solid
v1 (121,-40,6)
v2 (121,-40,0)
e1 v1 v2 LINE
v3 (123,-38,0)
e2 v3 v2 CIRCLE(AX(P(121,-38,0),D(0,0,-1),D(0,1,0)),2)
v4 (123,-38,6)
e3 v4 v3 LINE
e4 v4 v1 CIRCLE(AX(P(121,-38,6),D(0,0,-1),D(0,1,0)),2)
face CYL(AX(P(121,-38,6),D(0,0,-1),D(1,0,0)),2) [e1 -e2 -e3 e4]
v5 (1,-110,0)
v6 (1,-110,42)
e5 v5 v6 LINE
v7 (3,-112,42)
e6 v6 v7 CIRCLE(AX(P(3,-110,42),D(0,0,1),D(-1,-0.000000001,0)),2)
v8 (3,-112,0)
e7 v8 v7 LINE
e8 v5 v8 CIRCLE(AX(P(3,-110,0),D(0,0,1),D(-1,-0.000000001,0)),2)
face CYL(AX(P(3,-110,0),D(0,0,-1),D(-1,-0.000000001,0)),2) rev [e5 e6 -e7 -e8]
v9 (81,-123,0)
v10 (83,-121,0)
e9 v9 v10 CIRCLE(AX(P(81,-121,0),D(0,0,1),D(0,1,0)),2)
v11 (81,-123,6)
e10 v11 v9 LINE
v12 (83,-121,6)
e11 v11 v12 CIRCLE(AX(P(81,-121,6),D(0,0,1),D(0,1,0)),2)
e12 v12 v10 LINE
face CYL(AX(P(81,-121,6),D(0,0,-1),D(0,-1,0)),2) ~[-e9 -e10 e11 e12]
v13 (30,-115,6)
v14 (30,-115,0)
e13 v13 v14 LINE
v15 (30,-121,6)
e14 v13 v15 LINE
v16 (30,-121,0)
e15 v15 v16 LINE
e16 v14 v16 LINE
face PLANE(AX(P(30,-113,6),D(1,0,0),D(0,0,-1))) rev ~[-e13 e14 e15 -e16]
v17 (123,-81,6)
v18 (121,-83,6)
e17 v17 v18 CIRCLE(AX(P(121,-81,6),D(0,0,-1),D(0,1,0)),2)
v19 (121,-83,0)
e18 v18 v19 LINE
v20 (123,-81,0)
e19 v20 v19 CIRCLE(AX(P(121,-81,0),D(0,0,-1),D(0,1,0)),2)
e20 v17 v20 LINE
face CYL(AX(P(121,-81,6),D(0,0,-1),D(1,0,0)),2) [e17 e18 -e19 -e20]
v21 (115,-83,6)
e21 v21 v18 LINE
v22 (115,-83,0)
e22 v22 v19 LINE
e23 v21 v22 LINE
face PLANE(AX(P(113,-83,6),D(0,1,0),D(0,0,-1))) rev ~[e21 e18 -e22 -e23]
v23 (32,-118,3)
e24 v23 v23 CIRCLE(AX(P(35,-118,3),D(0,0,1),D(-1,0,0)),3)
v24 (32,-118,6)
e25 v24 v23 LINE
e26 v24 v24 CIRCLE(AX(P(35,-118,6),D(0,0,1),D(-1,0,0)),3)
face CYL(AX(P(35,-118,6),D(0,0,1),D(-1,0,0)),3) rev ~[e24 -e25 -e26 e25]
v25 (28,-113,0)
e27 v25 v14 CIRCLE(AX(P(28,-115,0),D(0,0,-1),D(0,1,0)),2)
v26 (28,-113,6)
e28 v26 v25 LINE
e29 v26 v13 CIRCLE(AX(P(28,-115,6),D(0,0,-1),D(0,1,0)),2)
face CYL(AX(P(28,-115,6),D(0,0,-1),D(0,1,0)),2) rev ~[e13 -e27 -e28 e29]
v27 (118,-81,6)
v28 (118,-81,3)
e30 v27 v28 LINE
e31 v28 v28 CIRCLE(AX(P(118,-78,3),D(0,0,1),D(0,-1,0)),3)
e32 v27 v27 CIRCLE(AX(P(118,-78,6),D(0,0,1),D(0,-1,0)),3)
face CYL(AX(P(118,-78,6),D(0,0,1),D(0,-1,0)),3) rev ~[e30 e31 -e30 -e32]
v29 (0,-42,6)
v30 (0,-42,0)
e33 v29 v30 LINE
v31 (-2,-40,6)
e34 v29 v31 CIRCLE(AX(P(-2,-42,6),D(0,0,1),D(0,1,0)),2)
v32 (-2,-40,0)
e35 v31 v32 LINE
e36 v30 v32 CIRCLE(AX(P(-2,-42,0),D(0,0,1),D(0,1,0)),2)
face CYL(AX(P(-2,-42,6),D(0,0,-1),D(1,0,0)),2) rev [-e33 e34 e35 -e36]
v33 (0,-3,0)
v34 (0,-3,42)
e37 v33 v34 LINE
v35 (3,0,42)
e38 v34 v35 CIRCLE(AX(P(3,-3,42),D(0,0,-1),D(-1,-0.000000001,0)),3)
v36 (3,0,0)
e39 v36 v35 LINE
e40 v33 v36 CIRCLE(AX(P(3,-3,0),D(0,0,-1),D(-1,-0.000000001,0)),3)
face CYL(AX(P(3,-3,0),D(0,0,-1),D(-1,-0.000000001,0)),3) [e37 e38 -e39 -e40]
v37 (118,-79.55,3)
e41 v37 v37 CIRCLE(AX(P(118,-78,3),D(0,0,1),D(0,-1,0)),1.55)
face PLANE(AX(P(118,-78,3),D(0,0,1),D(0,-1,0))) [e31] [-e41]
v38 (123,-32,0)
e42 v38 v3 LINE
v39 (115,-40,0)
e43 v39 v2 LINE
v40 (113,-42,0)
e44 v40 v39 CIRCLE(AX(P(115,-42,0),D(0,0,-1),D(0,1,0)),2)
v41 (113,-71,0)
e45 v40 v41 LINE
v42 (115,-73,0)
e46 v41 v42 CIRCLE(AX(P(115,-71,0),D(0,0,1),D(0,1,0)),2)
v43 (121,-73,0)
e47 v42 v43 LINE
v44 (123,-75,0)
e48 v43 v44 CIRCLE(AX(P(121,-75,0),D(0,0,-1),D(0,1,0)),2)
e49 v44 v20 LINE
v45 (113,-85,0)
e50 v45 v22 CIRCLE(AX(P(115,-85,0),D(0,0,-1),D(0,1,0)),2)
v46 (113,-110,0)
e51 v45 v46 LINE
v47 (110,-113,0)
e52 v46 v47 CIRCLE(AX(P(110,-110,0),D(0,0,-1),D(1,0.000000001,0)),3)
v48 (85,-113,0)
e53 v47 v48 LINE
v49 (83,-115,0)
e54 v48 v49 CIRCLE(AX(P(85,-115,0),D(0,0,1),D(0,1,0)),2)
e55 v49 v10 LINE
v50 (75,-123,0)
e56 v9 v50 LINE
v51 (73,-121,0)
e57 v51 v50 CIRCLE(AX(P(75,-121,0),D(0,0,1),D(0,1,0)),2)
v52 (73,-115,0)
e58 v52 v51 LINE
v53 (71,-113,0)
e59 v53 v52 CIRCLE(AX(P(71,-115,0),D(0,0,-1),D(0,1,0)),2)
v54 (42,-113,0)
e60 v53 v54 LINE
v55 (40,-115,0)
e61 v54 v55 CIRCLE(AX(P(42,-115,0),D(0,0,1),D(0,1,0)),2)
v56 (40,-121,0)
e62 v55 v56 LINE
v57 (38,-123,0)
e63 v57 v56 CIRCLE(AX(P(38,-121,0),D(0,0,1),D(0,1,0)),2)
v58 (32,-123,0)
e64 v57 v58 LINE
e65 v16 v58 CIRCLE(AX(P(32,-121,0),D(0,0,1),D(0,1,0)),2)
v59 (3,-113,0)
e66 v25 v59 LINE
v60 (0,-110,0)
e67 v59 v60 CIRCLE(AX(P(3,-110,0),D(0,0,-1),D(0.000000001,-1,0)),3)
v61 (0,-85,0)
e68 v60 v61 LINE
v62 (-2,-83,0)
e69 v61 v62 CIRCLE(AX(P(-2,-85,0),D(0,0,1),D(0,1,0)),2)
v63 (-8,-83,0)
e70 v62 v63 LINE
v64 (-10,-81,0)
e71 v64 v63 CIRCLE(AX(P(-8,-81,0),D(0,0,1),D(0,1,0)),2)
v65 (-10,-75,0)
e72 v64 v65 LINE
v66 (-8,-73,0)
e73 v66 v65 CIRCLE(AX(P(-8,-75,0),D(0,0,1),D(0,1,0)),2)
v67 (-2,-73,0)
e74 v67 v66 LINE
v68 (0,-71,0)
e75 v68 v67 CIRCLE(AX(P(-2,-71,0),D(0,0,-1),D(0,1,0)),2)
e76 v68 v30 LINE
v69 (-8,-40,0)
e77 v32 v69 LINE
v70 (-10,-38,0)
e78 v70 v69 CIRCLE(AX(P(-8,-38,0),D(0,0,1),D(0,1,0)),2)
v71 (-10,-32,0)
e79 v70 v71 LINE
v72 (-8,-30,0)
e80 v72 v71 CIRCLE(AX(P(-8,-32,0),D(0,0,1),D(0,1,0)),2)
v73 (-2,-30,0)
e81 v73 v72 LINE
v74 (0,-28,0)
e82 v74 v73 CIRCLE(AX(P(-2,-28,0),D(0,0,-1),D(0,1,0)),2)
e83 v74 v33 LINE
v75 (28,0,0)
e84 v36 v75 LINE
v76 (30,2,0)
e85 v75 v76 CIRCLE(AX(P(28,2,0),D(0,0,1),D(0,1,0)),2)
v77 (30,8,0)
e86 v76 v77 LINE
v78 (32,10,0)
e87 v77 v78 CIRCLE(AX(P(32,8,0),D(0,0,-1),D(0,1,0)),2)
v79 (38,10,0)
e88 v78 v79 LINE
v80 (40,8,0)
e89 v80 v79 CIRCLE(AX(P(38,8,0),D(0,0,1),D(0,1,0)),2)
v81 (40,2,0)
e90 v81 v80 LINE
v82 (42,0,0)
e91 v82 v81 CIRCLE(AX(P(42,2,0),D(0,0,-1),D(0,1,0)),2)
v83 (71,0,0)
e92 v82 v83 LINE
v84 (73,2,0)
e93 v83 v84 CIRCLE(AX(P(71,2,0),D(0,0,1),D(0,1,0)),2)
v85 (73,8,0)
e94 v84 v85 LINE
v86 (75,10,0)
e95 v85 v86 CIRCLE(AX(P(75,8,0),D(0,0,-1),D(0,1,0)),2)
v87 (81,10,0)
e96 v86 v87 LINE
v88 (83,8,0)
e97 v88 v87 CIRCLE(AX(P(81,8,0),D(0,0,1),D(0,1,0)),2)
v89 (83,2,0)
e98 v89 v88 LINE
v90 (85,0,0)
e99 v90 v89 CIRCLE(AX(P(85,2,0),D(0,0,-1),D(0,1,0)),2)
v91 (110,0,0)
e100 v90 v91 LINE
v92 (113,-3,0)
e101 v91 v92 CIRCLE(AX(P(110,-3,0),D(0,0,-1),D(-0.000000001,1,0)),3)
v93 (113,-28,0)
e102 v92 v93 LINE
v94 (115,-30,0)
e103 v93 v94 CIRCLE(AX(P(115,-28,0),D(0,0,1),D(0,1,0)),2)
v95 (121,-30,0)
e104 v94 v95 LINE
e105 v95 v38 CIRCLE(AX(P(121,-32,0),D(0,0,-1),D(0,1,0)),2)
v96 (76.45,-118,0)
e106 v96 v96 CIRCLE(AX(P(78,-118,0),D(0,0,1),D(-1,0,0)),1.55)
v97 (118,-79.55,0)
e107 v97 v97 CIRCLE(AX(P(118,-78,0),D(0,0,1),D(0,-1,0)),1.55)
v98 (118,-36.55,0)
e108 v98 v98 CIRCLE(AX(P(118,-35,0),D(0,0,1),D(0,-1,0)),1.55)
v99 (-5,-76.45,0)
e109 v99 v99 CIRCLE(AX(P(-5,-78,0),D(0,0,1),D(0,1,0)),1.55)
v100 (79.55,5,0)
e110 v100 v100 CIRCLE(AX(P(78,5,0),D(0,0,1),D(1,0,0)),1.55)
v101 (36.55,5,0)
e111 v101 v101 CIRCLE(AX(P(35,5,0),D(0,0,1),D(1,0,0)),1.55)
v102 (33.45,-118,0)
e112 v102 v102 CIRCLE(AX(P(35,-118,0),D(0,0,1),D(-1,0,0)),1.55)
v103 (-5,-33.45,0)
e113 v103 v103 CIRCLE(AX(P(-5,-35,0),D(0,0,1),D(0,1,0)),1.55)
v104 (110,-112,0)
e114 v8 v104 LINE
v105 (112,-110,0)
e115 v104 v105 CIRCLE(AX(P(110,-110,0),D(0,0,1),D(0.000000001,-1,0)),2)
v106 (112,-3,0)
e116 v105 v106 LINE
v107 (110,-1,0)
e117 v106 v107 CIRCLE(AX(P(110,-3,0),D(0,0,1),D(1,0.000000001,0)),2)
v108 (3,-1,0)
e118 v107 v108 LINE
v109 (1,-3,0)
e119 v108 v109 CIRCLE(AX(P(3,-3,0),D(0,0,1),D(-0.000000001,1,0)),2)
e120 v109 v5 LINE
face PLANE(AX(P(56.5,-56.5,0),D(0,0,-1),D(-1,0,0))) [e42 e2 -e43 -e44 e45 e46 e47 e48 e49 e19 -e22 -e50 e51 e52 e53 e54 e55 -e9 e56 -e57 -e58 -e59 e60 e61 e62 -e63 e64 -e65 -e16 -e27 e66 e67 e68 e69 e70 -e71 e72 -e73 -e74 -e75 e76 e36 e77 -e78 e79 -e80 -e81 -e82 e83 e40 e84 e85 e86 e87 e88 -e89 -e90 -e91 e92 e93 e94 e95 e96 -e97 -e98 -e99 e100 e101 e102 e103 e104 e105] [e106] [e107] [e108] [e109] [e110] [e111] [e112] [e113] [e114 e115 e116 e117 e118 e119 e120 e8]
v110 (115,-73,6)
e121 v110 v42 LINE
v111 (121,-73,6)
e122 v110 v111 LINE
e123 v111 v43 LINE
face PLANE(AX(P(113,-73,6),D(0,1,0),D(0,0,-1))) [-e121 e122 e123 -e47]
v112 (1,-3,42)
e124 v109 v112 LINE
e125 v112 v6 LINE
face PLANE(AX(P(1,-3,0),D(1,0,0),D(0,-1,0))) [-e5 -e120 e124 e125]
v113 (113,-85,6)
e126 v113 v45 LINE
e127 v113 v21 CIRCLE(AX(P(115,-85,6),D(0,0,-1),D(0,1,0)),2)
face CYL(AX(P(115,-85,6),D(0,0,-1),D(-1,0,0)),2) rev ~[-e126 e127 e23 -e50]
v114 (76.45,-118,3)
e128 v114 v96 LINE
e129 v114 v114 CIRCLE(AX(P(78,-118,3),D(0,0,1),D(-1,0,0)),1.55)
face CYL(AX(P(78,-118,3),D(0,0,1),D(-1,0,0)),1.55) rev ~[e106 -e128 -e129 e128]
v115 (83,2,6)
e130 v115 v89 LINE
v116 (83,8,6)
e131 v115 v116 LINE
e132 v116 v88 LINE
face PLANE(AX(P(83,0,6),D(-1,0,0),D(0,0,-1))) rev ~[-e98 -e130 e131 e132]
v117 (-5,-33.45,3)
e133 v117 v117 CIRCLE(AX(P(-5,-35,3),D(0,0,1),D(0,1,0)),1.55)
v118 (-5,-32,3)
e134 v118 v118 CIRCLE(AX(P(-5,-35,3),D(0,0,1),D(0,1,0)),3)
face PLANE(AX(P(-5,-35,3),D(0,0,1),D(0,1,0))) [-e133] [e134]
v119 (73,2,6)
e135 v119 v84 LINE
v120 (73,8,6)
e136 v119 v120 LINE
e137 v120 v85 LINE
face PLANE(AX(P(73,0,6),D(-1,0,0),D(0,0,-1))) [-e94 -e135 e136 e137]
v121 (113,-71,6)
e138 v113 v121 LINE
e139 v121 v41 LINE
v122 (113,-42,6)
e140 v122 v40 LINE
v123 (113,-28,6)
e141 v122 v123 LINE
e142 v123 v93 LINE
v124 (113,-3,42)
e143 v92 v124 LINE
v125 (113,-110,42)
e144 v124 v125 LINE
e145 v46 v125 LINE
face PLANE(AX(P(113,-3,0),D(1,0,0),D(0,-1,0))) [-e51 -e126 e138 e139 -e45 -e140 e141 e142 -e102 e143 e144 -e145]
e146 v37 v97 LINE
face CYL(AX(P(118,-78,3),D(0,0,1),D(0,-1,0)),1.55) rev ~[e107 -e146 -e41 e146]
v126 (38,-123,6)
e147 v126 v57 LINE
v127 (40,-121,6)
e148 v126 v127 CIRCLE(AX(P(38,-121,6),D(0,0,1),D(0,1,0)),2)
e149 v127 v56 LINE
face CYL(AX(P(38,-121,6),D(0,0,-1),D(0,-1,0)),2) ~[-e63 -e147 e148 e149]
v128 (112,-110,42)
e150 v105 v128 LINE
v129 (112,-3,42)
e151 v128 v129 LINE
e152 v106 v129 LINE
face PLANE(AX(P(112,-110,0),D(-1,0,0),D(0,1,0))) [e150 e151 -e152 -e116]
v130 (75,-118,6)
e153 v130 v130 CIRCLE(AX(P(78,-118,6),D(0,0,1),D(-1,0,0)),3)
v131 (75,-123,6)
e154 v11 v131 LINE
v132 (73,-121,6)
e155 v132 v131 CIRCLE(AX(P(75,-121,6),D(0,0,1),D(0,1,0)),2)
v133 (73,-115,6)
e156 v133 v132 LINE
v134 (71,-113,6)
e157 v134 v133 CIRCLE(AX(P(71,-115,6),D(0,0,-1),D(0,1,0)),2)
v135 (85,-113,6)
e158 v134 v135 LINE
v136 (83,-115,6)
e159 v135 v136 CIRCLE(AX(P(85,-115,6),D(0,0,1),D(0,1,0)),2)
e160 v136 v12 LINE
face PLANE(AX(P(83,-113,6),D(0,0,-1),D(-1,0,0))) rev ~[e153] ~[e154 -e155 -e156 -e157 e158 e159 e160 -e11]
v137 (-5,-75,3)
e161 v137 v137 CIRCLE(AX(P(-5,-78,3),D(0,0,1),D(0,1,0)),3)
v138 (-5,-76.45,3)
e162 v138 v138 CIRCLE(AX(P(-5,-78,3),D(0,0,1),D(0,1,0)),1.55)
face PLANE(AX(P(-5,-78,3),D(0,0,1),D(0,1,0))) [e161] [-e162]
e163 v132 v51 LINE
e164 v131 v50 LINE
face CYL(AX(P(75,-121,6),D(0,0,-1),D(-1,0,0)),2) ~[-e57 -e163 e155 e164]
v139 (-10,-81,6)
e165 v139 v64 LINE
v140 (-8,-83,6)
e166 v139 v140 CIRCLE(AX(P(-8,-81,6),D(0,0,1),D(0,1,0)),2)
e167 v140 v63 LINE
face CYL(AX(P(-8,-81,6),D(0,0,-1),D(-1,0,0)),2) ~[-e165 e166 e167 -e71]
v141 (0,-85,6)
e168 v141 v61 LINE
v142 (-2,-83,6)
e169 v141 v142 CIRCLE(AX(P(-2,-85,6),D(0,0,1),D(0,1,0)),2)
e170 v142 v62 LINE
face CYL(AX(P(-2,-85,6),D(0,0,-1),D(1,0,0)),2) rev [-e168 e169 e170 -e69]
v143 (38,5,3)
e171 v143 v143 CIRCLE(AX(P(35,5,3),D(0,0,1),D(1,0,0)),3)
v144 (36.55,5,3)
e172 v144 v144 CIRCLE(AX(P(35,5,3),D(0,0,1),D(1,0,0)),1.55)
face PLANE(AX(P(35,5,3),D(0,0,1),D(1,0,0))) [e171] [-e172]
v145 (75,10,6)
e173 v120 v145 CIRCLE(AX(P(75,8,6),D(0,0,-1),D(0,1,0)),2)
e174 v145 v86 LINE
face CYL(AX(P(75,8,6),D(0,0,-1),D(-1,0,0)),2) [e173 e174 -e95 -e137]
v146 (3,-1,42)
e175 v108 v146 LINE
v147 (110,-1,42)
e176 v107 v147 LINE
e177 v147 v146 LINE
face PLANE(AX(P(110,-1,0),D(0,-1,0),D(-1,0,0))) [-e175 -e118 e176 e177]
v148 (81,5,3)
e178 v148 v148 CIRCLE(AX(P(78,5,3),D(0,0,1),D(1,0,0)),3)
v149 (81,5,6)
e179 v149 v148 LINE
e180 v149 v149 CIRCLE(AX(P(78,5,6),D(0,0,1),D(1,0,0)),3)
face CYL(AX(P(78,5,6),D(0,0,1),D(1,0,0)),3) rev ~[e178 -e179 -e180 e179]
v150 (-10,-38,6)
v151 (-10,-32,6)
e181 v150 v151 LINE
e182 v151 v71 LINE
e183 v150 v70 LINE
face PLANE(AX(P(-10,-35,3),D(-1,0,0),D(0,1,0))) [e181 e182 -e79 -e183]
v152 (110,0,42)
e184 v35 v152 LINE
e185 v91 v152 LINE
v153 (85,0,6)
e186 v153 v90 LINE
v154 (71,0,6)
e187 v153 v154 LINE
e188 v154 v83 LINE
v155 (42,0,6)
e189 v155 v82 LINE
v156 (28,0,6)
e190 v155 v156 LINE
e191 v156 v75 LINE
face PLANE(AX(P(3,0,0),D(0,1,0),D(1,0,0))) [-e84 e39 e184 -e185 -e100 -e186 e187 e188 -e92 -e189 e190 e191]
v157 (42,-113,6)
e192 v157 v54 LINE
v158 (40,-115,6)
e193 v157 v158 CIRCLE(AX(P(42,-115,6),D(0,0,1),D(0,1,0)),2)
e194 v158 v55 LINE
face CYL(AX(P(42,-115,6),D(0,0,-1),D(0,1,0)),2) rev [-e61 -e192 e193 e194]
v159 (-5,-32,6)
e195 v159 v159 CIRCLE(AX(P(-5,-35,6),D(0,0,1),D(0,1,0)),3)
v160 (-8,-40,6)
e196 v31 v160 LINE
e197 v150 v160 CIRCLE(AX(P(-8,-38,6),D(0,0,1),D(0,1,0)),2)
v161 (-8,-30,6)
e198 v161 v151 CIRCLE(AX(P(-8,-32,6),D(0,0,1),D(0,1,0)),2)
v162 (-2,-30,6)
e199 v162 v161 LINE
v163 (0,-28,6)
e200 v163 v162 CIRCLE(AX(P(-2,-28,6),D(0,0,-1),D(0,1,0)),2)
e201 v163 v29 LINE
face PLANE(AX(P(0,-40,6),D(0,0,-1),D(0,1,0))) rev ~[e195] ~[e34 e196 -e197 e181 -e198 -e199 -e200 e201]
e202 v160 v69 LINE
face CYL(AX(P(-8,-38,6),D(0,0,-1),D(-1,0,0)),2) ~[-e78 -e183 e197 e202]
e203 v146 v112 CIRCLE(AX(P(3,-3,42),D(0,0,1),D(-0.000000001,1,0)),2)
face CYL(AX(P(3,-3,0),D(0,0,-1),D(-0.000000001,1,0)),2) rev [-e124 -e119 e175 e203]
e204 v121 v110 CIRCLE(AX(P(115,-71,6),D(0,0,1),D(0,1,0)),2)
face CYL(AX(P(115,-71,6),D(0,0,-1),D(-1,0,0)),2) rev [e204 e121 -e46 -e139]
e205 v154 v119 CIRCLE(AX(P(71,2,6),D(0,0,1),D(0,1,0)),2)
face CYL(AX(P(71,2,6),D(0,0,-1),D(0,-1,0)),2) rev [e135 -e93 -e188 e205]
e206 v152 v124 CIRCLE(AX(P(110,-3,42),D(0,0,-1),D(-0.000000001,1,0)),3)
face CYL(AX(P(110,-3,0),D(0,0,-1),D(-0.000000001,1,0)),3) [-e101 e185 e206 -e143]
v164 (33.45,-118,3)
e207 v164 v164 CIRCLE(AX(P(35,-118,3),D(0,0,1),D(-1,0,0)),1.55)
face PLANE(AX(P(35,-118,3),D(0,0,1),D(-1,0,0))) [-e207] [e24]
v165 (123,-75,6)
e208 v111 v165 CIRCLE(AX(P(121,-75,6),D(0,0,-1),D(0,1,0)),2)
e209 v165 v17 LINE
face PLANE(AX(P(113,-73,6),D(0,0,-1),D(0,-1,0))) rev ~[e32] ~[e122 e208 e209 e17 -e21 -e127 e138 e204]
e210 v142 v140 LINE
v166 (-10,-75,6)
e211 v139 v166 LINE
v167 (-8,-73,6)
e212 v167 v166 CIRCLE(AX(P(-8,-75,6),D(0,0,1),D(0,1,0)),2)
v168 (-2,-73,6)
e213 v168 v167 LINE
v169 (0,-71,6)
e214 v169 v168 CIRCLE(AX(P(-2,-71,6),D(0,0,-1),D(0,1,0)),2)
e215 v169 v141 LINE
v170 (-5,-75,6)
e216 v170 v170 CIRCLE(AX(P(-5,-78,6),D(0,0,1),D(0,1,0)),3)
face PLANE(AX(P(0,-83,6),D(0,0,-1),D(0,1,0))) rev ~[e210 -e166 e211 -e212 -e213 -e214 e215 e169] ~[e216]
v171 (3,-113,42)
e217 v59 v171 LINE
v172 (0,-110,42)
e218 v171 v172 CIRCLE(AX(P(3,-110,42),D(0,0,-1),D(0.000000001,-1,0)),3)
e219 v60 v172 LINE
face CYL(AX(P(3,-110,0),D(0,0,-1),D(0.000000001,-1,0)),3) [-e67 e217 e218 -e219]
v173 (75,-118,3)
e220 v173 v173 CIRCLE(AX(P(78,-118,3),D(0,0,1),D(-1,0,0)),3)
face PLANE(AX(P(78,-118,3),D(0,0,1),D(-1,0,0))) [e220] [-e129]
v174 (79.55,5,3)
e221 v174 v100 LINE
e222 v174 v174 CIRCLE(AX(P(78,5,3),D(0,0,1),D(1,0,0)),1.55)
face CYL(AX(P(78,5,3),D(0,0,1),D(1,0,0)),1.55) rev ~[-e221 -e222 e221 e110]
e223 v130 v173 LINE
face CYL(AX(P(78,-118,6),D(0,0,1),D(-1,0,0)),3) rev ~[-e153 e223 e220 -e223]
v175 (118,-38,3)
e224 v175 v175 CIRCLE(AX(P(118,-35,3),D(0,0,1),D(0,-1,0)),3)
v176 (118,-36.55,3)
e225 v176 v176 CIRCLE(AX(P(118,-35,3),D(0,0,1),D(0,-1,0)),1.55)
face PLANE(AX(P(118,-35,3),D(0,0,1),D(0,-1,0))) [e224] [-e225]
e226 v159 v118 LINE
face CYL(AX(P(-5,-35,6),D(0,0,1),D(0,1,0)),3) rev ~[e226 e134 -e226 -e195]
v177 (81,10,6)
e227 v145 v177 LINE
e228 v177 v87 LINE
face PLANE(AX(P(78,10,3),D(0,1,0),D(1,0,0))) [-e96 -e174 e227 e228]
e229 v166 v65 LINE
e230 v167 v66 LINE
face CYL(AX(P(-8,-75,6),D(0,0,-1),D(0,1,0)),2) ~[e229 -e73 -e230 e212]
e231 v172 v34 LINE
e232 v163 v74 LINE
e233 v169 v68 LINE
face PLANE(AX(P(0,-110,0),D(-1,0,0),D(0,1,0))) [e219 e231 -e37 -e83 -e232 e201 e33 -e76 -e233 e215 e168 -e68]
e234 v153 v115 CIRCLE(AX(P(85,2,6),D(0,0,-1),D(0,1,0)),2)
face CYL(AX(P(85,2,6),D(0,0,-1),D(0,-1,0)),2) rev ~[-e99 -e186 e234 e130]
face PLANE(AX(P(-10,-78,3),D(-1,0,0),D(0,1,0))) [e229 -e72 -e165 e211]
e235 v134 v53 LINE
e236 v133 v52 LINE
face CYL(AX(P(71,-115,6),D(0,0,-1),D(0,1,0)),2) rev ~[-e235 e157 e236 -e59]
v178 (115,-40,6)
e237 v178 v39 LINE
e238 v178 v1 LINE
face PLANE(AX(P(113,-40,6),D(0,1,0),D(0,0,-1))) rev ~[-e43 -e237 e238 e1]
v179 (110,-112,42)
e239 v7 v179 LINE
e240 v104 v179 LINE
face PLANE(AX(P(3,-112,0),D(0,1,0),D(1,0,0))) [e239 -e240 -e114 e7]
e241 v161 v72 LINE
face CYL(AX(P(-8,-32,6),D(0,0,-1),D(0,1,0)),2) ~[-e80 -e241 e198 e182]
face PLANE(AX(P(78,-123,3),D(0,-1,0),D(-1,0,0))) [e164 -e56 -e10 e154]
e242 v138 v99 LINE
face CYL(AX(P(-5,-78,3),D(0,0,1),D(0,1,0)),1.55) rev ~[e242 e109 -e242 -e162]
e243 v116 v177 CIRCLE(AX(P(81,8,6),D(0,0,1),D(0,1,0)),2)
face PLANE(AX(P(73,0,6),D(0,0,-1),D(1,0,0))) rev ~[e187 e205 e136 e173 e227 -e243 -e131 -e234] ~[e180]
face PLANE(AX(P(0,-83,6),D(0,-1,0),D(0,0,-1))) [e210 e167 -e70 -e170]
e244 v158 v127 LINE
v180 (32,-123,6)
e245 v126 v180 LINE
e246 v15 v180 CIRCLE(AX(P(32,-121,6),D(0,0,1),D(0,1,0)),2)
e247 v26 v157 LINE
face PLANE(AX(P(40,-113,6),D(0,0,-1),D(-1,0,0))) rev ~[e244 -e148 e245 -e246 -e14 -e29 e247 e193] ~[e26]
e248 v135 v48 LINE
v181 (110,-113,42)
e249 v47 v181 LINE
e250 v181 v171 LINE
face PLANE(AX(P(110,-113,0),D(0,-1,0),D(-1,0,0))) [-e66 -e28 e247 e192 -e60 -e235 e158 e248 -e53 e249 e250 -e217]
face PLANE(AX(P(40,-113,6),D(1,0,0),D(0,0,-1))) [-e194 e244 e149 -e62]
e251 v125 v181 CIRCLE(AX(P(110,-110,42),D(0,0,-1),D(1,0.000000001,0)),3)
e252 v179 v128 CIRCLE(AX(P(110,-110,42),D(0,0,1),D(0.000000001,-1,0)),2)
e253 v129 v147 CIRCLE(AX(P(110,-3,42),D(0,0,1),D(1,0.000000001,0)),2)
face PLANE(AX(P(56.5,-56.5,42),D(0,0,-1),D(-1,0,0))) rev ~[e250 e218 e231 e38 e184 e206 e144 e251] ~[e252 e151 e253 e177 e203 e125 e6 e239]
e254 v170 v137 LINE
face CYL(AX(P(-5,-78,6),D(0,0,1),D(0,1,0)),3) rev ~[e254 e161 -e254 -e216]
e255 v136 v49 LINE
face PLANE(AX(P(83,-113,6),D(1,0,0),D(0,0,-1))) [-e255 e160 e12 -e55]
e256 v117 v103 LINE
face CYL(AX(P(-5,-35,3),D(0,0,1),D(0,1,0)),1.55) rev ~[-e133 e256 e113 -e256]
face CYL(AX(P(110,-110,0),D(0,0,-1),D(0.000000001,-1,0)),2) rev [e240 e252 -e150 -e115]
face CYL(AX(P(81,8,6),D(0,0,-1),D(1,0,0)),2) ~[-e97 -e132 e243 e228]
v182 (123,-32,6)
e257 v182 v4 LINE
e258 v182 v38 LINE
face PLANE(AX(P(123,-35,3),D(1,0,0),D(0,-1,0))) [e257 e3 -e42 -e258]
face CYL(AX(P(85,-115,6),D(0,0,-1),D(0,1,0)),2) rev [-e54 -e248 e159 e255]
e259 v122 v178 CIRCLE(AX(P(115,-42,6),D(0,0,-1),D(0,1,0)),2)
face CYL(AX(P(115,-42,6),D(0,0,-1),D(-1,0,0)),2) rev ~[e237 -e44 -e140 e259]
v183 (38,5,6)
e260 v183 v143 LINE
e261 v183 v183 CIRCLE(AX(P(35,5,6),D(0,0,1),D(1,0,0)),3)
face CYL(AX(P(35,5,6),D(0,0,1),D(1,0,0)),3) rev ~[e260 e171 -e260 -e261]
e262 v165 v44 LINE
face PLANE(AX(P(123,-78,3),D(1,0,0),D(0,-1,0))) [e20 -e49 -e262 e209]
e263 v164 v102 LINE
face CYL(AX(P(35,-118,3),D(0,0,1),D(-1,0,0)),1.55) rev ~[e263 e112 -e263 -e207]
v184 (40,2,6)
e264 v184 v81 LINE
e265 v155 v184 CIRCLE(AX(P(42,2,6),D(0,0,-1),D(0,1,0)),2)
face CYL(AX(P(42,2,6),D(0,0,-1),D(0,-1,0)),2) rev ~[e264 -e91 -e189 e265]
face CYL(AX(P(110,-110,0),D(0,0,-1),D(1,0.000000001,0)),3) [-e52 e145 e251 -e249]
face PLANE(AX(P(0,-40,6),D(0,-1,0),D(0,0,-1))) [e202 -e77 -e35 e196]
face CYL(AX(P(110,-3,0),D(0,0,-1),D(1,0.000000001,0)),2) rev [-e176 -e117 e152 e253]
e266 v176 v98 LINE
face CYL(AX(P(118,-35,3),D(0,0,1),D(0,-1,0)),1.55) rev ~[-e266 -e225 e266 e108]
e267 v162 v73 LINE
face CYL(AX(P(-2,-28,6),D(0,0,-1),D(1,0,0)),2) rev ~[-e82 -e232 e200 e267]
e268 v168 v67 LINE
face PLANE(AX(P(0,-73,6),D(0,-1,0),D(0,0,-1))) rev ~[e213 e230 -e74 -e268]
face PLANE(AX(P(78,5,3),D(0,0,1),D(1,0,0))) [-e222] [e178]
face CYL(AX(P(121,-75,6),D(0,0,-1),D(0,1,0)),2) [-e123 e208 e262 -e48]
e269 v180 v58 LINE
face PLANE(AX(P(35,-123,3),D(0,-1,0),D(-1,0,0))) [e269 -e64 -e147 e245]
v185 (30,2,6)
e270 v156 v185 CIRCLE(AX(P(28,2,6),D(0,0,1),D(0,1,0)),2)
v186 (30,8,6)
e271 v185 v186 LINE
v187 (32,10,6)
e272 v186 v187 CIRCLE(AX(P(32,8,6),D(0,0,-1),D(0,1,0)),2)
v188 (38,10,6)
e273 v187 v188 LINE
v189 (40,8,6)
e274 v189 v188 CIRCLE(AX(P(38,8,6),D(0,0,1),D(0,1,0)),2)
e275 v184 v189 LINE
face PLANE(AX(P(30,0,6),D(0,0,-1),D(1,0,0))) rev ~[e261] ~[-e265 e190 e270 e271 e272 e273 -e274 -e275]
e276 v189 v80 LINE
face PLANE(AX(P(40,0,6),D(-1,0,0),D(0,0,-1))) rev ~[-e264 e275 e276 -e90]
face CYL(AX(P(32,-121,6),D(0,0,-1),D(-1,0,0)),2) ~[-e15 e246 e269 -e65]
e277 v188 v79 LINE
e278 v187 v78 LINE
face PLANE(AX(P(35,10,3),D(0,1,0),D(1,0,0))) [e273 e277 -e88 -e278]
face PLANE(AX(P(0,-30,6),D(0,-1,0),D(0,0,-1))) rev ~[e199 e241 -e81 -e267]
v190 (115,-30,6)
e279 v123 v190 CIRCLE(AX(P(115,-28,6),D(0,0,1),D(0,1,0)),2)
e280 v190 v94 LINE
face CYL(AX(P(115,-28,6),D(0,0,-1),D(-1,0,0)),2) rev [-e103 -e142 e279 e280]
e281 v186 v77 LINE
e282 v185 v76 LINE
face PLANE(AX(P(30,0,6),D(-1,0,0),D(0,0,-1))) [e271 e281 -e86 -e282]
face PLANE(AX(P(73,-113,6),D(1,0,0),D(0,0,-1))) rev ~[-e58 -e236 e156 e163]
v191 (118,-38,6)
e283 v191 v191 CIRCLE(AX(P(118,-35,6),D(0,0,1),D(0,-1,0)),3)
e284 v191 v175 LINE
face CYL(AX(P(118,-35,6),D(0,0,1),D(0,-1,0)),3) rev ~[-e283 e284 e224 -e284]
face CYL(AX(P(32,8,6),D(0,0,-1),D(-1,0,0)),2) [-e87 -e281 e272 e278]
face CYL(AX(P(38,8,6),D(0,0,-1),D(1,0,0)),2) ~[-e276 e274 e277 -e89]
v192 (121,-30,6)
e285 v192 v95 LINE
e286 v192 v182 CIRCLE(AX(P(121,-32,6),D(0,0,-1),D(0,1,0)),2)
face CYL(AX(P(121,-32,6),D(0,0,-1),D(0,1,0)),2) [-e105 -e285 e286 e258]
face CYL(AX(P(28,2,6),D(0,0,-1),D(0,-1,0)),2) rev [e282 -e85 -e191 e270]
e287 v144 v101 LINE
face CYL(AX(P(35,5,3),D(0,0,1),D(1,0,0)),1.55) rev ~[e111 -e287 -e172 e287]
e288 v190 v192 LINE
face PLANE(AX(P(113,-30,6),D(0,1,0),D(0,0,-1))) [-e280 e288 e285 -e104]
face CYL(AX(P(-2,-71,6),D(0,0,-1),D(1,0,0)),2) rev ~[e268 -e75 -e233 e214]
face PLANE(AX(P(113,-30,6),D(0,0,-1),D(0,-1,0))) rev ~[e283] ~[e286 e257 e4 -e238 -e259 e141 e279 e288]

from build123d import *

# Parameters (mm, degrees)
P_IDAT_VYSUNUT_M1_DEPTH      = 42
SKICA7_W                     = 10
SKICA7_H                     = 6
P_IDAT_VYSUNUT_M2_DEPTH      = 10
SKICA8_R                     = 3
ODEBRAT_VYSUNUT_M4_DEPTH     = 3
SKICA9_R                     = 1.55
ODEBRAT_VYSUNUT_M5_DEPTH     = 3
LINPOLE1_COUNT               = 2
LINPOLE1_PITCH               = 43
KRUHOV_POLE1_COUNT           = 4
KRUHOV_POLE1_COPY_1_SKETCH_W = 10
KRUHOV_POLE1_COPY_1_SKETCH_H = 6
KRUHOV_POLE1_COPY_1_DEPTH    = 10
KRUHOV_POLE1_COPY_2_SKETCH_W = 10
KRUHOV_POLE1_COPY_2_SKETCH_H = 6
KRUHOV_POLE1_COPY_2_DEPTH    = 10
KRUHOV_POLE1_COPY_3_SKETCH_W = 10
KRUHOV_POLE1_COPY_3_SKETCH_H = 6
KRUHOV_POLE1_COPY_3_DEPTH    = 10
KRUHOV_POLE1_COPY_4_SKETCH_R = 3
KRUHOV_POLE1_COPY_4_DEPTH    = 3
KRUHOV_POLE1_COPY_5_SKETCH_R = 3
KRUHOV_POLE1_COPY_5_DEPTH    = 3
KRUHOV_POLE1_COPY_6_SKETCH_R = 3
KRUHOV_POLE1_COPY_6_DEPTH    = 3
KRUHOV_POLE1_COPY_7_SKETCH_R = 1.55
KRUHOV_POLE1_COPY_7_DEPTH    = 3
KRUHOV_POLE1_COPY_8_SKETCH_R = 1.55
KRUHOV_POLE1_COPY_8_DEPTH    = 3
KRUHOV_POLE1_COPY_9_SKETCH_R = 1.55
KRUHOV_POLE1_COPY_9_DEPTH    = 3
ZAOBLIT3_R                   = 2


with BuildPart() as part:
    # Skica2 → Přidat vysunutím1 (new body)
    with BuildSketch(Plane.XY):
        with BuildLine():
            Line((3, 0), (110, 0))
            ThreePointArc((110, 0), (112.121320344, -0.878679656), (113, -3))
            Line((113, -3), (113, -110))
            ThreePointArc((113, -110), (112.121320344, -112.121320344), (110, -113))
            Line((110, -113), (3, -113))
            ThreePointArc((3, -113), (0.878679656, -112.121320344), (0, -110))
            Line((0, -110), (0, -3))
            ThreePointArc((0, -3), (0.878679656, -0.878679656), (3, 0))
        make_face()
        with BuildLine():
            Line((1, -3), (1, -110))
            ThreePointArc((1, -110), (1.585786438, -111.414213562), (3, -112))
            Line((3, -112), (110, -112))
            ThreePointArc((110, -112), (111.414213562, -111.414213562), (112, -110))
            Line((112, -110), (112, -3))
            ThreePointArc((112, -3), (111.414213562, -1.585786438), (110, -1))
            Line((110, -1), (3, -1))
            ThreePointArc((3, -1), (1.585786438, -1.585786438), (1, -3))
        make_face(mode=Mode.SUBTRACT)
    extrude(amount=P_IDAT_VYSUNUT_M1_DEPTH)

    # Skica7 → Přidat vysunutím2 (add)
    with BuildSketch(Plane(origin=(0, 0, 0), x_dir=(1, 0, 0), z_dir=(0, 1, 0))):
        with Locations((35, -3)):
            Rectangle(SKICA7_W, SKICA7_H)
    p_idat_vysunut_m2 = extrude(amount=P_IDAT_VYSUNUT_M2_DEPTH)

    # Skica8 → Odebrat vysunutím4 (cut)
    with BuildSketch(Plane.XY.offset(6)):
        with Locations((35, 5)):
            Circle(SKICA8_R)
    odebrat_vysunut_m4 = extrude(amount=-ODEBRAT_VYSUNUT_M4_DEPTH, mode=Mode.SUBTRACT)

    # Skica9 → Odebrat vysunutím5 (cut)
    with BuildSketch(Plane.XY.offset(3)):
        with Locations((35, 5)):
            Circle(SKICA9_R)
    odebrat_vysunut_m5 = extrude(amount=-ODEBRAT_VYSUNUT_M5_DEPTH, mode=Mode.SUBTRACT)

    # LinPole1: Přidat vysunutím2, Odebrat vysunutím4, Odebrat vysunutím5 ×2
    with Locations(*[(i * LINPOLE1_PITCH, 0, 0) for i in range(1, LINPOLE1_COUNT)]):
        add(p_idat_vysunut_m2)
        add(odebrat_vysunut_m4, mode=Mode.SUBTRACT)
        add(odebrat_vysunut_m5, mode=Mode.SUBTRACT)

    # Kruhové pole1: Přidat vysunutím2, Odebrat vysunutím4, Odebrat vysunutím5 ×4 about axis
    kruhov_pole1_axis = Axis((56.5, -56.5, 0), (0, 0, 1))
    for i in range(1, KRUHOV_POLE1_COUNT):
        add(p_idat_vysunut_m2.rotate(kruhov_pole1_axis, i * 360 / KRUHOV_POLE1_COUNT))
        add(odebrat_vysunut_m4.rotate(kruhov_pole1_axis, i * 360 / KRUHOV_POLE1_COUNT), mode=Mode.SUBTRACT)
        add(odebrat_vysunut_m5.rotate(kruhov_pole1_axis, i * 360 / KRUHOV_POLE1_COUNT), mode=Mode.SUBTRACT)

    # Kruhové pole1 copy 1 sketch → Kruhové pole1 copy 1 (add)
    with BuildSketch(Plane(origin=(0, -70, 0), x_dir=(0, 1, 0), z_dir=(-1, 0, 0))):
        with Locations((35, -3)):
            Rectangle(KRUHOV_POLE1_COPY_1_SKETCH_W, KRUHOV_POLE1_COPY_1_SKETCH_H)
    extrude(amount=KRUHOV_POLE1_COPY_1_DEPTH)

    # Kruhové pole1 copy 2 sketch → Kruhové pole1 copy 2 (add)
    with BuildSketch(Plane(origin=(70, -113, 0), x_dir=(-1, 0, 0), z_dir=(0, -1, 0))):
        with Locations((35, -3)):
            Rectangle(KRUHOV_POLE1_COPY_2_SKETCH_W, KRUHOV_POLE1_COPY_2_SKETCH_H)
    extrude(amount=KRUHOV_POLE1_COPY_2_DEPTH)

    # Kruhové pole1 copy 3 sketch → Kruhové pole1 copy 3 (add)
    with BuildSketch(Plane(origin=(113, -43, 0), x_dir=(0, -1, 0), z_dir=(1, 0, 0))):
        with Locations((35, -3)):
            Rectangle(KRUHOV_POLE1_COPY_3_SKETCH_W, KRUHOV_POLE1_COPY_3_SKETCH_H)
    extrude(amount=KRUHOV_POLE1_COPY_3_DEPTH)

    # Kruhové pole1 copy 4 sketch → Kruhové pole1 copy 4 (cut)
    with BuildSketch(Plane(origin=(0, -70, 6), x_dir=(0, 1, 0), z_dir=(0, 0, 1))):
        with Locations((35, 5)):
            Circle(KRUHOV_POLE1_COPY_4_SKETCH_R)
    extrude(amount=-KRUHOV_POLE1_COPY_4_DEPTH, mode=Mode.SUBTRACT)

    # Kruhové pole1 copy 5 sketch → Kruhové pole1 copy 5 (cut)
    with BuildSketch(Plane(origin=(70, -113, 6), x_dir=(-1, 0, 0), z_dir=(0, 0, 1))):
        with Locations((35, 5)):
            Circle(KRUHOV_POLE1_COPY_5_SKETCH_R)
    extrude(amount=-KRUHOV_POLE1_COPY_5_DEPTH, mode=Mode.SUBTRACT)

    # Kruhové pole1 copy 6 sketch → Kruhové pole1 copy 6 (cut)
    with BuildSketch(Plane(origin=(113, -43, 6), x_dir=(0, -1, 0), z_dir=(0, 0, 1))):
        with Locations((35, 5)):
            Circle(KRUHOV_POLE1_COPY_6_SKETCH_R)
    extrude(amount=-KRUHOV_POLE1_COPY_6_DEPTH, mode=Mode.SUBTRACT)

    # Kruhové pole1 copy 7 sketch → Kruhové pole1 copy 7 (cut)
    with BuildSketch(Plane(origin=(0, -70, 3), x_dir=(0, 1, 0), z_dir=(0, 0, 1))):
        with Locations((35, 5)):
            Circle(KRUHOV_POLE1_COPY_7_SKETCH_R)
    extrude(amount=-KRUHOV_POLE1_COPY_7_DEPTH, mode=Mode.SUBTRACT)

    # Kruhové pole1 copy 8 sketch → Kruhové pole1 copy 8 (cut)
    with BuildSketch(Plane(origin=(70, -113, 3), x_dir=(-1, 0, 0), z_dir=(0, 0, 1))):
        with Locations((35, 5)):
            Circle(KRUHOV_POLE1_COPY_8_SKETCH_R)
    extrude(amount=-KRUHOV_POLE1_COPY_8_DEPTH, mode=Mode.SUBTRACT)

    # Kruhové pole1 copy 9 sketch → Kruhové pole1 copy 9 (cut)
    with BuildSketch(Plane(origin=(113, -43, 3), x_dir=(0, -1, 0), z_dir=(0, 0, 1))):
        with Locations((35, 5)):
            Circle(KRUHOV_POLE1_COPY_9_SKETCH_R)
    extrude(amount=-KRUHOV_POLE1_COPY_9_DEPTH, mode=Mode.SUBTRACT)

    # Zaoblit3
    zaoblit3_edges = [part.edges().sort_by_distance(p)[0] for p in [
        (83, -113, 3),
        (73, -113, 3),
        (83, -123, 3),
        (73, -123, 3),
        (0, -83, 3),
        (0, -73, 3),
        (-10, -83, 3),
        (-10, -73, 3),
        (113, -73, 3),
        (113, -83, 3),
        (123, -73, 3),
        (123, -83, 3),
        (40, -113, 3),
        (30, -113, 3),
        (40, -123, 3),
        (30, -123, 3),
        (0, -40, 3),
        (0, -30, 3),
        (-10, -40, 3),
        (-10, -30, 3),
        (30, 0, 3),
        (40, 0, 3),
        (30, 10, 3),
        (40, 10, 3),
        (73, 0, 3),
        (83, 0, 3),
        (73, 10, 3),
        (83, 10, 3),
        (113, -30, 3),
        (113, -40, 3),
        (123, -30, 3),
        (123, -40, 3),
    ]]
    fillet(zaoblit3_edges, radius=ZAOBLIT3_R)


solid = part.part
